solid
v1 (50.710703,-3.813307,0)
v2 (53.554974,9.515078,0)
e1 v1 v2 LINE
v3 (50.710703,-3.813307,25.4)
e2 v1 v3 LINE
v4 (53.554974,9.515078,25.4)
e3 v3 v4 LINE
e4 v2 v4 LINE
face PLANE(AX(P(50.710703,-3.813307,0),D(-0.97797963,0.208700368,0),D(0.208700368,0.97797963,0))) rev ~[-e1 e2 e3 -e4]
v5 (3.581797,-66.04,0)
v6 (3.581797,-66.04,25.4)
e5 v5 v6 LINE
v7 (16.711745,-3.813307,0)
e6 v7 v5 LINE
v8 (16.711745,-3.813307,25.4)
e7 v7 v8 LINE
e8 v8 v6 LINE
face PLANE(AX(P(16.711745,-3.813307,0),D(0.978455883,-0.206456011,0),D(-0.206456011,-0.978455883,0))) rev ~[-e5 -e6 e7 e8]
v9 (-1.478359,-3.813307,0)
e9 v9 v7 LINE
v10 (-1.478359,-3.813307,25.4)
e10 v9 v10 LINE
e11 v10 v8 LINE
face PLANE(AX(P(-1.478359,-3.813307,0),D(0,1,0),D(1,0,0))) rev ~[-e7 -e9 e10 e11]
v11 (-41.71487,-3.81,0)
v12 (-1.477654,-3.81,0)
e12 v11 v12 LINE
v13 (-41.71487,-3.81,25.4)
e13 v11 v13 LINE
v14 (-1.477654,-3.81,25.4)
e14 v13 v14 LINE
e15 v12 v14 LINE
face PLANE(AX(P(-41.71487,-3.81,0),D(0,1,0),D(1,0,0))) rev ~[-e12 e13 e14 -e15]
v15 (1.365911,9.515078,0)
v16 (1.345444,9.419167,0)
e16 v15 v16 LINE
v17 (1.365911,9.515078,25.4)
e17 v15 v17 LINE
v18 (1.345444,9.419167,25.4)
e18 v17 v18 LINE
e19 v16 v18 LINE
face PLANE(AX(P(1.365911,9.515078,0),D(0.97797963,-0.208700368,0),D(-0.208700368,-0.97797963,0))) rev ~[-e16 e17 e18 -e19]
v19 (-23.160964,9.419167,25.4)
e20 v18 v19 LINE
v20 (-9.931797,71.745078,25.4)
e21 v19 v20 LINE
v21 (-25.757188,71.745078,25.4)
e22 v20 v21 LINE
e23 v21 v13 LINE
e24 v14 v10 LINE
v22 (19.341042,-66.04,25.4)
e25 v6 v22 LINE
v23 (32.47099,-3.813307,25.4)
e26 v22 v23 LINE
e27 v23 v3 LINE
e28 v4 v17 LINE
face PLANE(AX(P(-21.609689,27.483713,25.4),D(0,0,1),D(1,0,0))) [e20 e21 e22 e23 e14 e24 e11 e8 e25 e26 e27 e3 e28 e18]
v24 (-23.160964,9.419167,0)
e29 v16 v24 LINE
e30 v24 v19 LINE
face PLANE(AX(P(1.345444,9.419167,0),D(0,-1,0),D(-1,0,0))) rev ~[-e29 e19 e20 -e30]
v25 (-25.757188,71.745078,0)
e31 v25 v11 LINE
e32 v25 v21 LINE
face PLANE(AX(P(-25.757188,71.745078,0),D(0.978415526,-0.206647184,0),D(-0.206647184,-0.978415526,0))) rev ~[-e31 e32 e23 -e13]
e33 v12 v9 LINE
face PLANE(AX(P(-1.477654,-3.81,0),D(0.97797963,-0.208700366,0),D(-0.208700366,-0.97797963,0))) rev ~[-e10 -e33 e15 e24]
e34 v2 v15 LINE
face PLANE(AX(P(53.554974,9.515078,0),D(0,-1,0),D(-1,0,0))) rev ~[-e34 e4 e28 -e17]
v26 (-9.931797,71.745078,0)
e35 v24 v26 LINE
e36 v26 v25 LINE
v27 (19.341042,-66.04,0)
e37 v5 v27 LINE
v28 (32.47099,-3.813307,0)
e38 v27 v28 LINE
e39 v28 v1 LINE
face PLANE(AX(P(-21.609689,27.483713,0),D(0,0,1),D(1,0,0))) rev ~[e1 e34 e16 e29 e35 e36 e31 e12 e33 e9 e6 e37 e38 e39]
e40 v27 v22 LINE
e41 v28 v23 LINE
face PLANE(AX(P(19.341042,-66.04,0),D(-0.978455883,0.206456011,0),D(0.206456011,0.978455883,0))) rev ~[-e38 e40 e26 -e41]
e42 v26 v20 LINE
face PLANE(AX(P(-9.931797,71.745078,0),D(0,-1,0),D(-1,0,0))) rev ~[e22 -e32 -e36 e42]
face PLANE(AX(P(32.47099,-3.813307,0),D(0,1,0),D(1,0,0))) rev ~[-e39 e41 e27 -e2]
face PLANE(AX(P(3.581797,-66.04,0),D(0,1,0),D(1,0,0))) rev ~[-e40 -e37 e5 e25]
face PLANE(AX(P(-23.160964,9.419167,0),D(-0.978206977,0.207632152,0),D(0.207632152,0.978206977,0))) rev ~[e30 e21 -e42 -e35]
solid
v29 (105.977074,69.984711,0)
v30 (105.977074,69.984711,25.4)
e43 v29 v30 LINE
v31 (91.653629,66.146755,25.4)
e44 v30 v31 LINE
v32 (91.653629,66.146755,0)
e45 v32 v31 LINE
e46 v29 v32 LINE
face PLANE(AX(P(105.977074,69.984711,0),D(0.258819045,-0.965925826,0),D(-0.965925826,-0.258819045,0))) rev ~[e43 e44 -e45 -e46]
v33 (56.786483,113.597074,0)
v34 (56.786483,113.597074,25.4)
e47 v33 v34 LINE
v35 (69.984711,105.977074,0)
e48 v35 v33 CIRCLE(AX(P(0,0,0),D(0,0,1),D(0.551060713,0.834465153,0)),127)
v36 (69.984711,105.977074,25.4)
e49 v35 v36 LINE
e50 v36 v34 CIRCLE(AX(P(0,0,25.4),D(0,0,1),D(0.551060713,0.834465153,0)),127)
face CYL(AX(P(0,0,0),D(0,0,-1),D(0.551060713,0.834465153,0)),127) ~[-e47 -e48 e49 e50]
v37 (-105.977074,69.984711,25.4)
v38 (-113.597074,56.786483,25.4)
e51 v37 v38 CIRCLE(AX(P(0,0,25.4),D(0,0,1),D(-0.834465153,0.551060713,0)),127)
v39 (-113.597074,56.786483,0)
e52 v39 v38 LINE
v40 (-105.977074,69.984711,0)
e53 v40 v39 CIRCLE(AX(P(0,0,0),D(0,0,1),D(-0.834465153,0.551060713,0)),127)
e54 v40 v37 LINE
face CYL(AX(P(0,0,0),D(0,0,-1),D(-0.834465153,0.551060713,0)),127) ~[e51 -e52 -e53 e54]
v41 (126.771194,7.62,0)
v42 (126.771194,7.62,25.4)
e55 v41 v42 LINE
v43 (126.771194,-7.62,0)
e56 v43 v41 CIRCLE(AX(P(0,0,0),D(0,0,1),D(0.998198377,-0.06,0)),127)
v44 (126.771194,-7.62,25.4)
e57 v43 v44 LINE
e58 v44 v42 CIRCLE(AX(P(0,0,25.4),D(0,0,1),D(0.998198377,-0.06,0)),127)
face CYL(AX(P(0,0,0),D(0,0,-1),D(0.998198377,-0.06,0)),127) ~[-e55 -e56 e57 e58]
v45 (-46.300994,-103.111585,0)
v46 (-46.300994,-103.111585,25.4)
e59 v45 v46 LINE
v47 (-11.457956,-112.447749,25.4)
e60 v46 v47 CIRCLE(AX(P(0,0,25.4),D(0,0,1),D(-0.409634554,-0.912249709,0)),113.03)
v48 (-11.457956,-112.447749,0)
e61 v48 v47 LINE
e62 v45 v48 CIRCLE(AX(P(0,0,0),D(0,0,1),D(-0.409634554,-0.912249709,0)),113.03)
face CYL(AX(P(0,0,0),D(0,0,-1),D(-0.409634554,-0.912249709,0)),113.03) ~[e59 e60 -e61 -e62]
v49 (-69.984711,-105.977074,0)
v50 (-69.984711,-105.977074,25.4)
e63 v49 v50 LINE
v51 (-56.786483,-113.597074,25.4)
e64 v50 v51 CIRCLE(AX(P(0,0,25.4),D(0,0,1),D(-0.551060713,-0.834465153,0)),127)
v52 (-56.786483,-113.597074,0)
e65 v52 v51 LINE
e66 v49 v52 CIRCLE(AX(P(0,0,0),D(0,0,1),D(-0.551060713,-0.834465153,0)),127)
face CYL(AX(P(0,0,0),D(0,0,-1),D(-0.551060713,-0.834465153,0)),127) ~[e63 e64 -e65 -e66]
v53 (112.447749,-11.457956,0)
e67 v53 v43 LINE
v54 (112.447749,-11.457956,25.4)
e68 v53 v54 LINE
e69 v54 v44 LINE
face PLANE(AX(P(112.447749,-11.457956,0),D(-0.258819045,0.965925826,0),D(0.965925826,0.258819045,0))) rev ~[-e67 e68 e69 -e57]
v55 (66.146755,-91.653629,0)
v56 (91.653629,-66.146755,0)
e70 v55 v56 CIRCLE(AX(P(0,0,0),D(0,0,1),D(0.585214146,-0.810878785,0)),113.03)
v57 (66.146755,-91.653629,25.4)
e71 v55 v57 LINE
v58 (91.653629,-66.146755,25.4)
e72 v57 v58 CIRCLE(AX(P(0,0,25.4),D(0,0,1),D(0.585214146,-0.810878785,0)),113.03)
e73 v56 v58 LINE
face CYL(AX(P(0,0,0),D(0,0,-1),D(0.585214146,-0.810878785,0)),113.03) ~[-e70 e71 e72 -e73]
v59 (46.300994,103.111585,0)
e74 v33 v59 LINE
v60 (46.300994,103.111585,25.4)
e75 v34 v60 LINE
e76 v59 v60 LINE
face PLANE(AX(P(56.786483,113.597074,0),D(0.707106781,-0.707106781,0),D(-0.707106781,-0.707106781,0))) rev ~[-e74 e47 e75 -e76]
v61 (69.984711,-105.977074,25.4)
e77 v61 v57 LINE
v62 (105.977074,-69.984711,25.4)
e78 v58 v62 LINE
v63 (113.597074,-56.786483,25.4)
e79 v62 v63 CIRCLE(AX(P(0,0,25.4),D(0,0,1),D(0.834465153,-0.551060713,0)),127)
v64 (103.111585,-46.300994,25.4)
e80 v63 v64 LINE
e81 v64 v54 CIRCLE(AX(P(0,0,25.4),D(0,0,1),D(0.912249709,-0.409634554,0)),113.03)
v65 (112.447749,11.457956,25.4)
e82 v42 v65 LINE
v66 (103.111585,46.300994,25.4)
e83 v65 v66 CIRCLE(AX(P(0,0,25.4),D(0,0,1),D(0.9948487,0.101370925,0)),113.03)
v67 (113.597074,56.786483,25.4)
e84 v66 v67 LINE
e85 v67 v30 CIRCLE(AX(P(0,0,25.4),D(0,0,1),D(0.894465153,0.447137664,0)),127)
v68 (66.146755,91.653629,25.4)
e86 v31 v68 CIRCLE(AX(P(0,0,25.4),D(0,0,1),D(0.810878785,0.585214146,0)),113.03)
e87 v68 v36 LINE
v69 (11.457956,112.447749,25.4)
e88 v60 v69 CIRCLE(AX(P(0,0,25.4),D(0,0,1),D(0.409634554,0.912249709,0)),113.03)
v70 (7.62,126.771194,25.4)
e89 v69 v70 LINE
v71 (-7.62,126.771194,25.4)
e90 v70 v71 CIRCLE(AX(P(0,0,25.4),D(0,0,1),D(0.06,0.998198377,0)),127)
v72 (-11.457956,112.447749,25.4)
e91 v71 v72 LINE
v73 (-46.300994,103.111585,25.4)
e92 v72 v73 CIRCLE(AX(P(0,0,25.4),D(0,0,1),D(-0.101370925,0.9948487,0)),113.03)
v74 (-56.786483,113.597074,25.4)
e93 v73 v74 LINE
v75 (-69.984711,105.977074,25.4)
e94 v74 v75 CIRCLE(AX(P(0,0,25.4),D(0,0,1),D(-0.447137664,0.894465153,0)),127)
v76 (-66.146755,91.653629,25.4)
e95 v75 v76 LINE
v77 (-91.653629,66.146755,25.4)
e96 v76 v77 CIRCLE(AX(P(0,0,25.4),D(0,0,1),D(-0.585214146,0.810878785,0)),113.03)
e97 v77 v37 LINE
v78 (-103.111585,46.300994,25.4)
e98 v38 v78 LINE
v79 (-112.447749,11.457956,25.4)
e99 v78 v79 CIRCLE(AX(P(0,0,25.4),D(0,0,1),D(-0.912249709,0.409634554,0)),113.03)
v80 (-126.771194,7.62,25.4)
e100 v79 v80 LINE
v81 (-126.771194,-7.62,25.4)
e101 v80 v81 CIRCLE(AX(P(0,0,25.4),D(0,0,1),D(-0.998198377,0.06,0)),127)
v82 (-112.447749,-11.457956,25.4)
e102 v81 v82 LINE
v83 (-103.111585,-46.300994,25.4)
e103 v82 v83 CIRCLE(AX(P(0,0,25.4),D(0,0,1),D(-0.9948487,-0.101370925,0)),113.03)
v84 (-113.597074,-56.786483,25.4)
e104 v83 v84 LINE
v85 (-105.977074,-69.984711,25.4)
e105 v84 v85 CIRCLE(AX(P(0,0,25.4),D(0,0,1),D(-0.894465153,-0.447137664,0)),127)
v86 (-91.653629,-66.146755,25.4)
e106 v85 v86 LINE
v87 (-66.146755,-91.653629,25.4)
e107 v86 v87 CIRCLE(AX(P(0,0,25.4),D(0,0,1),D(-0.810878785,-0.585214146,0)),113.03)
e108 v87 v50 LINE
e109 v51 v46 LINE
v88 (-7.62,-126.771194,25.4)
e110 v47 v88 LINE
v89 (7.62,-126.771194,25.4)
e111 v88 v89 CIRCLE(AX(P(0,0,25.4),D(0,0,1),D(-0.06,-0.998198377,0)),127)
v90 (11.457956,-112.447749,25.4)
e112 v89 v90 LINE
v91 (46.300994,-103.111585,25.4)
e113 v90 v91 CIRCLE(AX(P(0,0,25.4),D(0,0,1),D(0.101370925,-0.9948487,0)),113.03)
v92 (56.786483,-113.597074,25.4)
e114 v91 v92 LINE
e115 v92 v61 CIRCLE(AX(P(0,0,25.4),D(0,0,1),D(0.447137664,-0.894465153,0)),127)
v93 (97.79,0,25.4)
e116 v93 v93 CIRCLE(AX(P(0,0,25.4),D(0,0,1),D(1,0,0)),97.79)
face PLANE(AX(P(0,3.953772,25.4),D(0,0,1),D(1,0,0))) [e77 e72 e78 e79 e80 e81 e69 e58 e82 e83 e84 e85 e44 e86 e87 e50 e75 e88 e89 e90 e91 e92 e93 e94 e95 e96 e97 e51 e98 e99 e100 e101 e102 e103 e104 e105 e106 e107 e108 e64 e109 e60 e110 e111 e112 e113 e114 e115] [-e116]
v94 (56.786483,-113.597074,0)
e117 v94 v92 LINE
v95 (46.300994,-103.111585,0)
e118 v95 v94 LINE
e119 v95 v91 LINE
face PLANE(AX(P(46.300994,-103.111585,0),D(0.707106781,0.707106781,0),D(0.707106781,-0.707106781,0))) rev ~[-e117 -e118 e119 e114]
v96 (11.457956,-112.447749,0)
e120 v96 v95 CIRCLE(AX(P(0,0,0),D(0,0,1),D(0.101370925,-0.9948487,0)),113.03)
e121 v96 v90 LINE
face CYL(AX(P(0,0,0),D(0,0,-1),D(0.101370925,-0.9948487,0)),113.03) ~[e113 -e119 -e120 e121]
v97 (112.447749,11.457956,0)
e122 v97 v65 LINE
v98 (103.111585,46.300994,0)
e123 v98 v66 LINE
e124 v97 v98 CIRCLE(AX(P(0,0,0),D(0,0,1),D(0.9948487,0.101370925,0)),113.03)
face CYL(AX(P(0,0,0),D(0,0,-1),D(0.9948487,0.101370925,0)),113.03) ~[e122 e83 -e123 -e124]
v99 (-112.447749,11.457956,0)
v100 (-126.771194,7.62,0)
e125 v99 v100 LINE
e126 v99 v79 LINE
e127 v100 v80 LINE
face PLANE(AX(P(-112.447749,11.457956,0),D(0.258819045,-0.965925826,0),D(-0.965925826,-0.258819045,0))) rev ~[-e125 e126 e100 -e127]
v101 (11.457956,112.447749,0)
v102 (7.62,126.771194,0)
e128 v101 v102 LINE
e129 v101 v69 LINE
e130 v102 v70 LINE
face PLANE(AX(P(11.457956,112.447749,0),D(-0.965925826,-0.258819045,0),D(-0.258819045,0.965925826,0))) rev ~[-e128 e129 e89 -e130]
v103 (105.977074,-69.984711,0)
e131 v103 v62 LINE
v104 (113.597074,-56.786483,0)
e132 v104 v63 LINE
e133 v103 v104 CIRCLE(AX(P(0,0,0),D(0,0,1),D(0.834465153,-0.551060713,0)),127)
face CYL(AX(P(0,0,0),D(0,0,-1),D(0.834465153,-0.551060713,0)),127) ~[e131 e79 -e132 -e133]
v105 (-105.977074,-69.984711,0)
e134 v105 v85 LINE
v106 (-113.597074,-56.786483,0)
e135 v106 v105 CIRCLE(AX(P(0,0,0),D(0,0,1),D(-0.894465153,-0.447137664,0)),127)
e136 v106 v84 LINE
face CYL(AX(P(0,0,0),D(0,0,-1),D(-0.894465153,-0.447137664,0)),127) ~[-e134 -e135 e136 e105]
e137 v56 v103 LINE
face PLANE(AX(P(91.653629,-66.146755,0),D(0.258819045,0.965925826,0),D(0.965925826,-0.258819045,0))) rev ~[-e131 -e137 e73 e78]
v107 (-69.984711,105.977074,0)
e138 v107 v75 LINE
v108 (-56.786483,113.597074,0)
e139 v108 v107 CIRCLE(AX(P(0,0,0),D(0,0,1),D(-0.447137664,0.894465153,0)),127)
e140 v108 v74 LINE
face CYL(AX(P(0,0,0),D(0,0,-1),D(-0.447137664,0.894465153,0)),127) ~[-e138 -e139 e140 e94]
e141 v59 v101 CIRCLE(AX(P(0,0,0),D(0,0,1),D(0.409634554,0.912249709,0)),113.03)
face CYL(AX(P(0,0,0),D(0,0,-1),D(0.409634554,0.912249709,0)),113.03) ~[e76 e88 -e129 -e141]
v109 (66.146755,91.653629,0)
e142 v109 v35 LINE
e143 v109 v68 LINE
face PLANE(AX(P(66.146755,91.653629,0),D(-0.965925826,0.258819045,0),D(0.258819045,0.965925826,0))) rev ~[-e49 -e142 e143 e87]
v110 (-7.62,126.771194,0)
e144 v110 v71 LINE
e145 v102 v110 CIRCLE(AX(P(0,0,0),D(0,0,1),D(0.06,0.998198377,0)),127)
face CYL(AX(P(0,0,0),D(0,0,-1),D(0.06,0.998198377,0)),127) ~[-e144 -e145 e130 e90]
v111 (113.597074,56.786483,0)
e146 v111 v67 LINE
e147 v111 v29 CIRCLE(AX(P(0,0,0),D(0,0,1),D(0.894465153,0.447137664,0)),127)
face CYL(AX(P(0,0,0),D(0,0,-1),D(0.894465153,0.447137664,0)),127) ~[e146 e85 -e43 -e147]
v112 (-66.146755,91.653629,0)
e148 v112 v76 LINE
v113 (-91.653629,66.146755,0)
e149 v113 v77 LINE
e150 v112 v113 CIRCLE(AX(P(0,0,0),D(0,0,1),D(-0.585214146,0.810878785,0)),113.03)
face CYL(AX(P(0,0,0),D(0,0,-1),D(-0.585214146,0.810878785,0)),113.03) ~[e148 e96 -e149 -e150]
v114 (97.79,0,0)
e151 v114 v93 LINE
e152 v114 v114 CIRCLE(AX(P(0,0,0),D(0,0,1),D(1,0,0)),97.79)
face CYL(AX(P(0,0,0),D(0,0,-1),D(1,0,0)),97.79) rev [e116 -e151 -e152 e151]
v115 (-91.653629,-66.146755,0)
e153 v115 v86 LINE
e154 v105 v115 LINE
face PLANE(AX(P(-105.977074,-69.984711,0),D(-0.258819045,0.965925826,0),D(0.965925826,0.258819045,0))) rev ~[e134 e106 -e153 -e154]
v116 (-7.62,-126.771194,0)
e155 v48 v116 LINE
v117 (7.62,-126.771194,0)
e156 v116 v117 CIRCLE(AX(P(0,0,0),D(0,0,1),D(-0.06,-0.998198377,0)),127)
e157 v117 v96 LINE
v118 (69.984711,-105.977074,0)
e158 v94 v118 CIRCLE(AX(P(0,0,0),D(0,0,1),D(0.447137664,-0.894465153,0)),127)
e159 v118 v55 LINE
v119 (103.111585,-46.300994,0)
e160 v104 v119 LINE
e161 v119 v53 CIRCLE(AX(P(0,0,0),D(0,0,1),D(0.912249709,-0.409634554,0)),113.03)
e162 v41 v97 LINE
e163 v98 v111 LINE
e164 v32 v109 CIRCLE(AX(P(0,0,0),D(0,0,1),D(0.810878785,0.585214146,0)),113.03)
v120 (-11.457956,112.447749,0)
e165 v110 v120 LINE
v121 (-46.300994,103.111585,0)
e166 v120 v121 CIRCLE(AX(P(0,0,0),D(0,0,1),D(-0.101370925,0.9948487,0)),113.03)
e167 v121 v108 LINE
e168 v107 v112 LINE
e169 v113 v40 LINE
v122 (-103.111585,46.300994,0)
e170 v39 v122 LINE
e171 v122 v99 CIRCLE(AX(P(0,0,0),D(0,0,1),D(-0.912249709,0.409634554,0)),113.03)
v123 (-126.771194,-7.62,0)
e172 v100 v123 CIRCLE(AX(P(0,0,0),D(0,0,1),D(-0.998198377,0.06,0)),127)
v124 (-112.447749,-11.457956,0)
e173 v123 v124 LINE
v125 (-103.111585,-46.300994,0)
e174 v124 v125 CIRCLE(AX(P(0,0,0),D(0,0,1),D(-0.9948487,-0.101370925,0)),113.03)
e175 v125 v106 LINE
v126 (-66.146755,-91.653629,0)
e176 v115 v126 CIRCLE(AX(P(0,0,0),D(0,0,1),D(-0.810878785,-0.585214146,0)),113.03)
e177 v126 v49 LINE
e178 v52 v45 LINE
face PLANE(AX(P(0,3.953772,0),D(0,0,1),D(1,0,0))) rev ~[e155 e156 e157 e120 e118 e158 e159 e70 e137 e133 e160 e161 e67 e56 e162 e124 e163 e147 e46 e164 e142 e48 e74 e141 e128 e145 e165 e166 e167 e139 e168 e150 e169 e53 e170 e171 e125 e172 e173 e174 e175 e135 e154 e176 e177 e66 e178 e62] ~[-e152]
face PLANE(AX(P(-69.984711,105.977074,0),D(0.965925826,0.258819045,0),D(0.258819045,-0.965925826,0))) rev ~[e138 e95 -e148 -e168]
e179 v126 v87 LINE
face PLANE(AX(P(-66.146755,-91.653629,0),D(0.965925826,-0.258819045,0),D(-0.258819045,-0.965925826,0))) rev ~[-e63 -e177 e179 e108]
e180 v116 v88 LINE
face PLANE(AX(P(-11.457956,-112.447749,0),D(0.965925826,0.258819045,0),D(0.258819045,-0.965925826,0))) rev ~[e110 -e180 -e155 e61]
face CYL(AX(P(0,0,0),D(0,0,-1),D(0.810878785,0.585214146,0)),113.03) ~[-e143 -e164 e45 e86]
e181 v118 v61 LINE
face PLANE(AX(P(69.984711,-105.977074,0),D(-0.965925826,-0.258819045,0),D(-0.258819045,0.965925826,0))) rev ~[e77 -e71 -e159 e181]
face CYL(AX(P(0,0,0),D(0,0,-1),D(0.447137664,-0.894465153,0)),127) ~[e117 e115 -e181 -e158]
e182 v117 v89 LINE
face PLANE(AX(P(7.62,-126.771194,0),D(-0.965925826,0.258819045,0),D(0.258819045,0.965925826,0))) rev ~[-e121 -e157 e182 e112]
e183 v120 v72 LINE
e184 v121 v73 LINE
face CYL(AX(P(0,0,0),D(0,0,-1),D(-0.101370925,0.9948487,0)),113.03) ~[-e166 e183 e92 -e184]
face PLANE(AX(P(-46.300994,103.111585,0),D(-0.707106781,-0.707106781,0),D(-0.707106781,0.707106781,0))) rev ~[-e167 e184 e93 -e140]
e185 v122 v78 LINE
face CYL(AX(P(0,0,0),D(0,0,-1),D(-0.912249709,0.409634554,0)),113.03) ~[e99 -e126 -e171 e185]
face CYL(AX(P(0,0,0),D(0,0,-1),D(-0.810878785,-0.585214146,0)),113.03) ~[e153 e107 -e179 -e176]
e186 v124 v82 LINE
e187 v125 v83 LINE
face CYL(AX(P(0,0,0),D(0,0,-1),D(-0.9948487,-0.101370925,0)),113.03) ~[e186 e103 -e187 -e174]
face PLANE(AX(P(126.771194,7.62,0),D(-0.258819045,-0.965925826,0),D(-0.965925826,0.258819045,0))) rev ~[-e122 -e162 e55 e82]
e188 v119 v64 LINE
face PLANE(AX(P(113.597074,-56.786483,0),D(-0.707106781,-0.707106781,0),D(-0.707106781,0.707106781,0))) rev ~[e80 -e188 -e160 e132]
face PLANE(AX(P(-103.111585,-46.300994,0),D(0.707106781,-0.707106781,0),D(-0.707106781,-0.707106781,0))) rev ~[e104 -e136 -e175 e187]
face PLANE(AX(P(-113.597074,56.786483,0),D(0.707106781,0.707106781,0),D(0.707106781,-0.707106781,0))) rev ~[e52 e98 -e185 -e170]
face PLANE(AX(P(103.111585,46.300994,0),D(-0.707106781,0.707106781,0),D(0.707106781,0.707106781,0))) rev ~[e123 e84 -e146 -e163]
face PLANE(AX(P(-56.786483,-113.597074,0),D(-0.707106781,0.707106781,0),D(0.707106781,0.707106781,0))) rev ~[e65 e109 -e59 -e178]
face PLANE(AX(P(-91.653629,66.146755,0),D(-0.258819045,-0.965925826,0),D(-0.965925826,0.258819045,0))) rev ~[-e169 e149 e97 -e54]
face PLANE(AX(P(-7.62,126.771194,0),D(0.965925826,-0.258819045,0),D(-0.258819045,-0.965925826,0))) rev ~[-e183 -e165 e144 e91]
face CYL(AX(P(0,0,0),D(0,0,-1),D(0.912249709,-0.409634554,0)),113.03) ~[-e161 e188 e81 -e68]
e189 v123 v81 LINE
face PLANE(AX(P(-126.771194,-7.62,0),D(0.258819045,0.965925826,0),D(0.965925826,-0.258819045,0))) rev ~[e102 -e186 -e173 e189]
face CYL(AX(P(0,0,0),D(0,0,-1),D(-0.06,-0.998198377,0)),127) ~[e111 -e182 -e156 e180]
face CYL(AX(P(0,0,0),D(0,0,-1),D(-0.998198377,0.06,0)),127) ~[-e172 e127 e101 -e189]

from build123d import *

# Parameters (mm, degrees)
F0_R     = 97.79
F1_DEPTH = 25.4
F3_DEPTH = 25.4


with BuildPart() as f1:
    # F0 (on Top) → F1 (new body)
    with BuildSketch(Plane.XY):
        with BuildLine():
            Line((11.4579556123, 112.4477485465), (7.62, 126.7711938888))
            ThreePointArc((7.62, 126.7711938888), (0, 127), (-7.62, 126.7711938888))
            Line((-7.62, 126.7711938888), (-11.4579556123, 112.4477485465))
            ThreePointArc((-11.4579556123, 112.4477485465), (-29.2543166679, 109.1785961455), (-46.3009936376, 103.1115846458))
            ThreePointArc((-46.3009936376, 103.1115846458), (-56.515, 97.8868513898), (-66.146754909, 91.6536290335))
            ThreePointArc((-66.146754909, 91.6536290335), (-79.9242794775, 79.9242794775), (-91.6536290335, 66.146754909))
            ThreePointArc((-91.6536290335, 66.146754909), (-97.8868513898, 56.515), (-103.1115846458, 46.3009936376))
            ThreePointArc((-103.1115846458, 46.3009936376), (-109.1785961455, 29.2543166679), (-112.4477485465, 11.4579556123))
            ThreePointArc((-112.4477485465, 11.4579556123), (-113.03, 0), (-112.4477485465, -11.4579556123))
            ThreePointArc((-112.4477485465, -11.4579556123), (-109.1785961455, -29.2543166679), (-103.1115846458, -46.3009936376))
            ThreePointArc((-103.1115846458, -46.3009936376), (-97.8868513898, -56.515), (-91.6536290335, -66.146754909))
            ThreePointArc((-91.6536290335, -66.146754909), (-79.9242794775, -79.9242794775), (-66.146754909, -91.6536290335))
            ThreePointArc((-66.146754909, -91.6536290335), (-56.515, -97.8868513898), (-46.3009936376, -103.1115846458))
            ThreePointArc((-46.3009936376, -103.1115846458), (-29.2543166679, -109.1785961455), (-11.4579556123, -112.4477485465))
            ThreePointArc((-11.4579556123, -112.4477485465), (0, -113.03), (11.4579556123, -112.4477485465))
            ThreePointArc((11.4579556123, -112.4477485465), (29.2543166679, -109.1785961455), (46.3009936376, -103.1115846458))
            ThreePointArc((46.3009936376, -103.1115846458), (56.515, -97.8868513898), (66.146754909, -91.6536290335))
            ThreePointArc((66.146754909, -91.6536290335), (79.9242794775, -79.9242794775), (91.6536290335, -66.146754909))
            ThreePointArc((91.6536290335, -66.146754909), (97.8868513898, -56.515), (103.1115846458, -46.3009936376))
            ThreePointArc((103.1115846458, -46.3009936376), (109.1785961455, -29.2543166679), (112.4477485465, -11.4579556123))
            ThreePointArc((112.4477485465, -11.4579556123), (113.03, 0), (112.4477485465, 11.4579556123))
            ThreePointArc((112.4477485465, 11.4579556123), (109.1785961455, 29.2543166679), (103.1115846458, 46.3009936376))
            ThreePointArc((103.1115846458, 46.3009936376), (97.8868513898, 56.515), (91.6536290335, 66.146754909))
            ThreePointArc((91.6536290335, 66.146754909), (79.9242794775, 79.9242794775), (66.146754909, 91.6536290335))
            ThreePointArc((66.146754909, 91.6536290335), (56.515, 97.8868513898), (46.3009936376, 103.1115846458))
            ThreePointArc((46.3009936376, 103.1115846458), (29.2543166679, 109.1785961455), (11.4579556123, 112.4477485465))
        make_face()
        Circle(F0_R, mode=Mode.SUBTRACT)
        with BuildLine():
            Line((56.7864833676, 113.5970743758), (46.3009936376, 103.1115846458))
            ThreePointArc((46.3009936376, 103.1115846458), (56.515, 97.8868513898), (66.146754909, 91.6536290335))
            Line((66.146754909, 91.6536290335), (69.9847105213, 105.9770743758))
            ThreePointArc((69.9847105213, 105.9770743758), (63.5, 109.9852262806), (56.7864833676, 113.5970743758))
        make_face()
        with BuildLine():
            ThreePointArc((-66.146754909, 91.6536290335), (-56.515, 97.8868513898), (-46.3009936376, 103.1115846458))
            Line((-46.3009936376, 103.1115846458), (-56.7864833676, 113.5970743758))
            ThreePointArc((-56.7864833676, 113.5970743758), (-63.5, 109.9852262806), (-69.9847105213, 105.9770743758))
            Line((-69.9847105213, 105.9770743758), (-66.146754909, 91.6536290335))
        make_face()
        with BuildLine():
            Line((105.9770743758, 69.9847105213), (91.6536290335, 66.146754909))
            ThreePointArc((91.6536290335, 66.146754909), (97.8868513898, 56.515), (103.1115846458, 46.3009936376))
            Line((103.1115846458, 46.3009936376), (113.5970743758, 56.7864833676))
            ThreePointArc((113.5970743758, 56.7864833676), (109.9852262806, 63.5), (105.9770743758, 69.9847105213))
        make_face()
        with BuildLine():
            ThreePointArc((-103.1115846458, 46.3009936376), (-97.8868513898, 56.515), (-91.6536290335, 66.146754909))
            Line((-91.6536290335, 66.146754909), (-105.9770743758, 69.9847105213))
            ThreePointArc((-105.9770743758, 69.9847105213), (-109.9852262806, 63.5), (-113.5970743758, 56.7864833676))
            Line((-113.5970743758, 56.7864833676), (-103.1115846458, 46.3009936376))
        make_face()
        with BuildLine():
            Line((126.7711938888, 7.62), (112.4477485465, 11.4579556123))
            ThreePointArc((112.4477485465, 11.4579556123), (113.03, 0), (112.4477485465, -11.4579556123))
            Line((112.4477485465, -11.4579556123), (126.7711938888, -7.62))
            ThreePointArc((126.7711938888, -7.62), (127, 0), (126.7711938888, 7.62))
        make_face()
        with BuildLine():
            ThreePointArc((-112.4477485465, -11.4579556123), (-113.03, 0), (-112.4477485465, 11.4579556123))
            Line((-112.4477485465, 11.4579556123), (-126.7711938888, 7.62))
            ThreePointArc((-126.7711938888, 7.62), (-127, 0), (-126.7711938888, -7.62))
            Line((-126.7711938888, -7.62), (-112.4477485465, -11.4579556123))
        make_face()
        with BuildLine():
            Line((113.5970743758, -56.7864833676), (103.1115846458, -46.3009936376))
            ThreePointArc((103.1115846458, -46.3009936376), (97.8868513898, -56.515), (91.6536290335, -66.146754909))
            Line((91.6536290335, -66.146754909), (105.9770743758, -69.9847105213))
            ThreePointArc((105.9770743758, -69.9847105213), (109.9852262806, -63.5), (113.5970743758, -56.7864833676))
        make_face()
        with BuildLine():
            ThreePointArc((-91.6536290335, -66.146754909), (-97.8868513898, -56.515), (-103.1115846458, -46.3009936376))
            Line((-103.1115846458, -46.3009936376), (-113.5970743758, -56.7864833676))
            ThreePointArc((-113.5970743758, -56.7864833676), (-109.9852262806, -63.5), (-105.9770743758, -69.9847105213))
            Line((-105.9770743758, -69.9847105213), (-91.6536290335, -66.146754909))
        make_face()
        with BuildLine():
            Line((69.9847105213, -105.9770743758), (66.146754909, -91.6536290335))
            ThreePointArc((66.146754909, -91.6536290335), (56.515, -97.8868513898), (46.3009936376, -103.1115846458))
            Line((46.3009936376, -103.1115846458), (56.7864833676, -113.5970743758))
            ThreePointArc((56.7864833676, -113.5970743758), (63.5, -109.9852262806), (69.9847105213, -105.9770743758))
        make_face()
        with BuildLine():
            ThreePointArc((-46.3009936376, -103.1115846458), (-56.515, -97.8868513898), (-66.146754909, -91.6536290335))
            Line((-66.146754909, -91.6536290335), (-69.9847105213, -105.9770743758))
            ThreePointArc((-69.9847105213, -105.9770743758), (-63.5, -109.9852262806), (-56.7864833676, -113.5970743758))
            Line((-56.7864833676, -113.5970743758), (-46.3009936376, -103.1115846458))
        make_face()
        with BuildLine():
            Line((7.62, -126.7711938888), (11.4579556123, -112.4477485465))
            ThreePointArc((11.4579556123, -112.4477485465), (0, -113.03), (-11.4579556123, -112.4477485465))
            Line((-11.4579556123, -112.4477485465), (-7.62, -126.7711938888))
            ThreePointArc((-7.62, -126.7711938888), (0, -127), (7.62, -126.7711938888))
        make_face()
    extrude(amount=F1_DEPTH)


with BuildPart() as f3:
    # F2 (on Top) → F3 (new body)
    with BuildSketch(Plane.XY):
        Polygon((-25.7571875, 71.745078125), (-41.7148697917, -3.81), (-1.4776536006, -3.81), (1.3454440007, 9.4191666667), (-23.1609635417, 9.4191666667), (-9.931796875, 71.745078125), align=None)
        Polygon((1.3454440007, 9.4191666667), (-1.4776536006, -3.81), (0.5027083333, -3.81), (3.2973697917, 9.4191666667), align=None)
        Polygon((0.5027083333, -3.81), (-1.4776536006, -3.81), (-1.478359375, -3.8133072917), (16.7117447917, -3.8133072917), (3.581796875, -66.04), (19.3410416667, -66.04), (32.4709895833, -3.8133072917), (50.710703125, -3.8133072917), (53.5549739583, 9.515078125), (1.3659114583, 9.515078125), (1.3454440007, 9.4191666667), (3.2973697917, 9.4191666667), align=None)
    extrude(amount=F3_DEPTH)


solid = Compound([f1.part, f3.part])
